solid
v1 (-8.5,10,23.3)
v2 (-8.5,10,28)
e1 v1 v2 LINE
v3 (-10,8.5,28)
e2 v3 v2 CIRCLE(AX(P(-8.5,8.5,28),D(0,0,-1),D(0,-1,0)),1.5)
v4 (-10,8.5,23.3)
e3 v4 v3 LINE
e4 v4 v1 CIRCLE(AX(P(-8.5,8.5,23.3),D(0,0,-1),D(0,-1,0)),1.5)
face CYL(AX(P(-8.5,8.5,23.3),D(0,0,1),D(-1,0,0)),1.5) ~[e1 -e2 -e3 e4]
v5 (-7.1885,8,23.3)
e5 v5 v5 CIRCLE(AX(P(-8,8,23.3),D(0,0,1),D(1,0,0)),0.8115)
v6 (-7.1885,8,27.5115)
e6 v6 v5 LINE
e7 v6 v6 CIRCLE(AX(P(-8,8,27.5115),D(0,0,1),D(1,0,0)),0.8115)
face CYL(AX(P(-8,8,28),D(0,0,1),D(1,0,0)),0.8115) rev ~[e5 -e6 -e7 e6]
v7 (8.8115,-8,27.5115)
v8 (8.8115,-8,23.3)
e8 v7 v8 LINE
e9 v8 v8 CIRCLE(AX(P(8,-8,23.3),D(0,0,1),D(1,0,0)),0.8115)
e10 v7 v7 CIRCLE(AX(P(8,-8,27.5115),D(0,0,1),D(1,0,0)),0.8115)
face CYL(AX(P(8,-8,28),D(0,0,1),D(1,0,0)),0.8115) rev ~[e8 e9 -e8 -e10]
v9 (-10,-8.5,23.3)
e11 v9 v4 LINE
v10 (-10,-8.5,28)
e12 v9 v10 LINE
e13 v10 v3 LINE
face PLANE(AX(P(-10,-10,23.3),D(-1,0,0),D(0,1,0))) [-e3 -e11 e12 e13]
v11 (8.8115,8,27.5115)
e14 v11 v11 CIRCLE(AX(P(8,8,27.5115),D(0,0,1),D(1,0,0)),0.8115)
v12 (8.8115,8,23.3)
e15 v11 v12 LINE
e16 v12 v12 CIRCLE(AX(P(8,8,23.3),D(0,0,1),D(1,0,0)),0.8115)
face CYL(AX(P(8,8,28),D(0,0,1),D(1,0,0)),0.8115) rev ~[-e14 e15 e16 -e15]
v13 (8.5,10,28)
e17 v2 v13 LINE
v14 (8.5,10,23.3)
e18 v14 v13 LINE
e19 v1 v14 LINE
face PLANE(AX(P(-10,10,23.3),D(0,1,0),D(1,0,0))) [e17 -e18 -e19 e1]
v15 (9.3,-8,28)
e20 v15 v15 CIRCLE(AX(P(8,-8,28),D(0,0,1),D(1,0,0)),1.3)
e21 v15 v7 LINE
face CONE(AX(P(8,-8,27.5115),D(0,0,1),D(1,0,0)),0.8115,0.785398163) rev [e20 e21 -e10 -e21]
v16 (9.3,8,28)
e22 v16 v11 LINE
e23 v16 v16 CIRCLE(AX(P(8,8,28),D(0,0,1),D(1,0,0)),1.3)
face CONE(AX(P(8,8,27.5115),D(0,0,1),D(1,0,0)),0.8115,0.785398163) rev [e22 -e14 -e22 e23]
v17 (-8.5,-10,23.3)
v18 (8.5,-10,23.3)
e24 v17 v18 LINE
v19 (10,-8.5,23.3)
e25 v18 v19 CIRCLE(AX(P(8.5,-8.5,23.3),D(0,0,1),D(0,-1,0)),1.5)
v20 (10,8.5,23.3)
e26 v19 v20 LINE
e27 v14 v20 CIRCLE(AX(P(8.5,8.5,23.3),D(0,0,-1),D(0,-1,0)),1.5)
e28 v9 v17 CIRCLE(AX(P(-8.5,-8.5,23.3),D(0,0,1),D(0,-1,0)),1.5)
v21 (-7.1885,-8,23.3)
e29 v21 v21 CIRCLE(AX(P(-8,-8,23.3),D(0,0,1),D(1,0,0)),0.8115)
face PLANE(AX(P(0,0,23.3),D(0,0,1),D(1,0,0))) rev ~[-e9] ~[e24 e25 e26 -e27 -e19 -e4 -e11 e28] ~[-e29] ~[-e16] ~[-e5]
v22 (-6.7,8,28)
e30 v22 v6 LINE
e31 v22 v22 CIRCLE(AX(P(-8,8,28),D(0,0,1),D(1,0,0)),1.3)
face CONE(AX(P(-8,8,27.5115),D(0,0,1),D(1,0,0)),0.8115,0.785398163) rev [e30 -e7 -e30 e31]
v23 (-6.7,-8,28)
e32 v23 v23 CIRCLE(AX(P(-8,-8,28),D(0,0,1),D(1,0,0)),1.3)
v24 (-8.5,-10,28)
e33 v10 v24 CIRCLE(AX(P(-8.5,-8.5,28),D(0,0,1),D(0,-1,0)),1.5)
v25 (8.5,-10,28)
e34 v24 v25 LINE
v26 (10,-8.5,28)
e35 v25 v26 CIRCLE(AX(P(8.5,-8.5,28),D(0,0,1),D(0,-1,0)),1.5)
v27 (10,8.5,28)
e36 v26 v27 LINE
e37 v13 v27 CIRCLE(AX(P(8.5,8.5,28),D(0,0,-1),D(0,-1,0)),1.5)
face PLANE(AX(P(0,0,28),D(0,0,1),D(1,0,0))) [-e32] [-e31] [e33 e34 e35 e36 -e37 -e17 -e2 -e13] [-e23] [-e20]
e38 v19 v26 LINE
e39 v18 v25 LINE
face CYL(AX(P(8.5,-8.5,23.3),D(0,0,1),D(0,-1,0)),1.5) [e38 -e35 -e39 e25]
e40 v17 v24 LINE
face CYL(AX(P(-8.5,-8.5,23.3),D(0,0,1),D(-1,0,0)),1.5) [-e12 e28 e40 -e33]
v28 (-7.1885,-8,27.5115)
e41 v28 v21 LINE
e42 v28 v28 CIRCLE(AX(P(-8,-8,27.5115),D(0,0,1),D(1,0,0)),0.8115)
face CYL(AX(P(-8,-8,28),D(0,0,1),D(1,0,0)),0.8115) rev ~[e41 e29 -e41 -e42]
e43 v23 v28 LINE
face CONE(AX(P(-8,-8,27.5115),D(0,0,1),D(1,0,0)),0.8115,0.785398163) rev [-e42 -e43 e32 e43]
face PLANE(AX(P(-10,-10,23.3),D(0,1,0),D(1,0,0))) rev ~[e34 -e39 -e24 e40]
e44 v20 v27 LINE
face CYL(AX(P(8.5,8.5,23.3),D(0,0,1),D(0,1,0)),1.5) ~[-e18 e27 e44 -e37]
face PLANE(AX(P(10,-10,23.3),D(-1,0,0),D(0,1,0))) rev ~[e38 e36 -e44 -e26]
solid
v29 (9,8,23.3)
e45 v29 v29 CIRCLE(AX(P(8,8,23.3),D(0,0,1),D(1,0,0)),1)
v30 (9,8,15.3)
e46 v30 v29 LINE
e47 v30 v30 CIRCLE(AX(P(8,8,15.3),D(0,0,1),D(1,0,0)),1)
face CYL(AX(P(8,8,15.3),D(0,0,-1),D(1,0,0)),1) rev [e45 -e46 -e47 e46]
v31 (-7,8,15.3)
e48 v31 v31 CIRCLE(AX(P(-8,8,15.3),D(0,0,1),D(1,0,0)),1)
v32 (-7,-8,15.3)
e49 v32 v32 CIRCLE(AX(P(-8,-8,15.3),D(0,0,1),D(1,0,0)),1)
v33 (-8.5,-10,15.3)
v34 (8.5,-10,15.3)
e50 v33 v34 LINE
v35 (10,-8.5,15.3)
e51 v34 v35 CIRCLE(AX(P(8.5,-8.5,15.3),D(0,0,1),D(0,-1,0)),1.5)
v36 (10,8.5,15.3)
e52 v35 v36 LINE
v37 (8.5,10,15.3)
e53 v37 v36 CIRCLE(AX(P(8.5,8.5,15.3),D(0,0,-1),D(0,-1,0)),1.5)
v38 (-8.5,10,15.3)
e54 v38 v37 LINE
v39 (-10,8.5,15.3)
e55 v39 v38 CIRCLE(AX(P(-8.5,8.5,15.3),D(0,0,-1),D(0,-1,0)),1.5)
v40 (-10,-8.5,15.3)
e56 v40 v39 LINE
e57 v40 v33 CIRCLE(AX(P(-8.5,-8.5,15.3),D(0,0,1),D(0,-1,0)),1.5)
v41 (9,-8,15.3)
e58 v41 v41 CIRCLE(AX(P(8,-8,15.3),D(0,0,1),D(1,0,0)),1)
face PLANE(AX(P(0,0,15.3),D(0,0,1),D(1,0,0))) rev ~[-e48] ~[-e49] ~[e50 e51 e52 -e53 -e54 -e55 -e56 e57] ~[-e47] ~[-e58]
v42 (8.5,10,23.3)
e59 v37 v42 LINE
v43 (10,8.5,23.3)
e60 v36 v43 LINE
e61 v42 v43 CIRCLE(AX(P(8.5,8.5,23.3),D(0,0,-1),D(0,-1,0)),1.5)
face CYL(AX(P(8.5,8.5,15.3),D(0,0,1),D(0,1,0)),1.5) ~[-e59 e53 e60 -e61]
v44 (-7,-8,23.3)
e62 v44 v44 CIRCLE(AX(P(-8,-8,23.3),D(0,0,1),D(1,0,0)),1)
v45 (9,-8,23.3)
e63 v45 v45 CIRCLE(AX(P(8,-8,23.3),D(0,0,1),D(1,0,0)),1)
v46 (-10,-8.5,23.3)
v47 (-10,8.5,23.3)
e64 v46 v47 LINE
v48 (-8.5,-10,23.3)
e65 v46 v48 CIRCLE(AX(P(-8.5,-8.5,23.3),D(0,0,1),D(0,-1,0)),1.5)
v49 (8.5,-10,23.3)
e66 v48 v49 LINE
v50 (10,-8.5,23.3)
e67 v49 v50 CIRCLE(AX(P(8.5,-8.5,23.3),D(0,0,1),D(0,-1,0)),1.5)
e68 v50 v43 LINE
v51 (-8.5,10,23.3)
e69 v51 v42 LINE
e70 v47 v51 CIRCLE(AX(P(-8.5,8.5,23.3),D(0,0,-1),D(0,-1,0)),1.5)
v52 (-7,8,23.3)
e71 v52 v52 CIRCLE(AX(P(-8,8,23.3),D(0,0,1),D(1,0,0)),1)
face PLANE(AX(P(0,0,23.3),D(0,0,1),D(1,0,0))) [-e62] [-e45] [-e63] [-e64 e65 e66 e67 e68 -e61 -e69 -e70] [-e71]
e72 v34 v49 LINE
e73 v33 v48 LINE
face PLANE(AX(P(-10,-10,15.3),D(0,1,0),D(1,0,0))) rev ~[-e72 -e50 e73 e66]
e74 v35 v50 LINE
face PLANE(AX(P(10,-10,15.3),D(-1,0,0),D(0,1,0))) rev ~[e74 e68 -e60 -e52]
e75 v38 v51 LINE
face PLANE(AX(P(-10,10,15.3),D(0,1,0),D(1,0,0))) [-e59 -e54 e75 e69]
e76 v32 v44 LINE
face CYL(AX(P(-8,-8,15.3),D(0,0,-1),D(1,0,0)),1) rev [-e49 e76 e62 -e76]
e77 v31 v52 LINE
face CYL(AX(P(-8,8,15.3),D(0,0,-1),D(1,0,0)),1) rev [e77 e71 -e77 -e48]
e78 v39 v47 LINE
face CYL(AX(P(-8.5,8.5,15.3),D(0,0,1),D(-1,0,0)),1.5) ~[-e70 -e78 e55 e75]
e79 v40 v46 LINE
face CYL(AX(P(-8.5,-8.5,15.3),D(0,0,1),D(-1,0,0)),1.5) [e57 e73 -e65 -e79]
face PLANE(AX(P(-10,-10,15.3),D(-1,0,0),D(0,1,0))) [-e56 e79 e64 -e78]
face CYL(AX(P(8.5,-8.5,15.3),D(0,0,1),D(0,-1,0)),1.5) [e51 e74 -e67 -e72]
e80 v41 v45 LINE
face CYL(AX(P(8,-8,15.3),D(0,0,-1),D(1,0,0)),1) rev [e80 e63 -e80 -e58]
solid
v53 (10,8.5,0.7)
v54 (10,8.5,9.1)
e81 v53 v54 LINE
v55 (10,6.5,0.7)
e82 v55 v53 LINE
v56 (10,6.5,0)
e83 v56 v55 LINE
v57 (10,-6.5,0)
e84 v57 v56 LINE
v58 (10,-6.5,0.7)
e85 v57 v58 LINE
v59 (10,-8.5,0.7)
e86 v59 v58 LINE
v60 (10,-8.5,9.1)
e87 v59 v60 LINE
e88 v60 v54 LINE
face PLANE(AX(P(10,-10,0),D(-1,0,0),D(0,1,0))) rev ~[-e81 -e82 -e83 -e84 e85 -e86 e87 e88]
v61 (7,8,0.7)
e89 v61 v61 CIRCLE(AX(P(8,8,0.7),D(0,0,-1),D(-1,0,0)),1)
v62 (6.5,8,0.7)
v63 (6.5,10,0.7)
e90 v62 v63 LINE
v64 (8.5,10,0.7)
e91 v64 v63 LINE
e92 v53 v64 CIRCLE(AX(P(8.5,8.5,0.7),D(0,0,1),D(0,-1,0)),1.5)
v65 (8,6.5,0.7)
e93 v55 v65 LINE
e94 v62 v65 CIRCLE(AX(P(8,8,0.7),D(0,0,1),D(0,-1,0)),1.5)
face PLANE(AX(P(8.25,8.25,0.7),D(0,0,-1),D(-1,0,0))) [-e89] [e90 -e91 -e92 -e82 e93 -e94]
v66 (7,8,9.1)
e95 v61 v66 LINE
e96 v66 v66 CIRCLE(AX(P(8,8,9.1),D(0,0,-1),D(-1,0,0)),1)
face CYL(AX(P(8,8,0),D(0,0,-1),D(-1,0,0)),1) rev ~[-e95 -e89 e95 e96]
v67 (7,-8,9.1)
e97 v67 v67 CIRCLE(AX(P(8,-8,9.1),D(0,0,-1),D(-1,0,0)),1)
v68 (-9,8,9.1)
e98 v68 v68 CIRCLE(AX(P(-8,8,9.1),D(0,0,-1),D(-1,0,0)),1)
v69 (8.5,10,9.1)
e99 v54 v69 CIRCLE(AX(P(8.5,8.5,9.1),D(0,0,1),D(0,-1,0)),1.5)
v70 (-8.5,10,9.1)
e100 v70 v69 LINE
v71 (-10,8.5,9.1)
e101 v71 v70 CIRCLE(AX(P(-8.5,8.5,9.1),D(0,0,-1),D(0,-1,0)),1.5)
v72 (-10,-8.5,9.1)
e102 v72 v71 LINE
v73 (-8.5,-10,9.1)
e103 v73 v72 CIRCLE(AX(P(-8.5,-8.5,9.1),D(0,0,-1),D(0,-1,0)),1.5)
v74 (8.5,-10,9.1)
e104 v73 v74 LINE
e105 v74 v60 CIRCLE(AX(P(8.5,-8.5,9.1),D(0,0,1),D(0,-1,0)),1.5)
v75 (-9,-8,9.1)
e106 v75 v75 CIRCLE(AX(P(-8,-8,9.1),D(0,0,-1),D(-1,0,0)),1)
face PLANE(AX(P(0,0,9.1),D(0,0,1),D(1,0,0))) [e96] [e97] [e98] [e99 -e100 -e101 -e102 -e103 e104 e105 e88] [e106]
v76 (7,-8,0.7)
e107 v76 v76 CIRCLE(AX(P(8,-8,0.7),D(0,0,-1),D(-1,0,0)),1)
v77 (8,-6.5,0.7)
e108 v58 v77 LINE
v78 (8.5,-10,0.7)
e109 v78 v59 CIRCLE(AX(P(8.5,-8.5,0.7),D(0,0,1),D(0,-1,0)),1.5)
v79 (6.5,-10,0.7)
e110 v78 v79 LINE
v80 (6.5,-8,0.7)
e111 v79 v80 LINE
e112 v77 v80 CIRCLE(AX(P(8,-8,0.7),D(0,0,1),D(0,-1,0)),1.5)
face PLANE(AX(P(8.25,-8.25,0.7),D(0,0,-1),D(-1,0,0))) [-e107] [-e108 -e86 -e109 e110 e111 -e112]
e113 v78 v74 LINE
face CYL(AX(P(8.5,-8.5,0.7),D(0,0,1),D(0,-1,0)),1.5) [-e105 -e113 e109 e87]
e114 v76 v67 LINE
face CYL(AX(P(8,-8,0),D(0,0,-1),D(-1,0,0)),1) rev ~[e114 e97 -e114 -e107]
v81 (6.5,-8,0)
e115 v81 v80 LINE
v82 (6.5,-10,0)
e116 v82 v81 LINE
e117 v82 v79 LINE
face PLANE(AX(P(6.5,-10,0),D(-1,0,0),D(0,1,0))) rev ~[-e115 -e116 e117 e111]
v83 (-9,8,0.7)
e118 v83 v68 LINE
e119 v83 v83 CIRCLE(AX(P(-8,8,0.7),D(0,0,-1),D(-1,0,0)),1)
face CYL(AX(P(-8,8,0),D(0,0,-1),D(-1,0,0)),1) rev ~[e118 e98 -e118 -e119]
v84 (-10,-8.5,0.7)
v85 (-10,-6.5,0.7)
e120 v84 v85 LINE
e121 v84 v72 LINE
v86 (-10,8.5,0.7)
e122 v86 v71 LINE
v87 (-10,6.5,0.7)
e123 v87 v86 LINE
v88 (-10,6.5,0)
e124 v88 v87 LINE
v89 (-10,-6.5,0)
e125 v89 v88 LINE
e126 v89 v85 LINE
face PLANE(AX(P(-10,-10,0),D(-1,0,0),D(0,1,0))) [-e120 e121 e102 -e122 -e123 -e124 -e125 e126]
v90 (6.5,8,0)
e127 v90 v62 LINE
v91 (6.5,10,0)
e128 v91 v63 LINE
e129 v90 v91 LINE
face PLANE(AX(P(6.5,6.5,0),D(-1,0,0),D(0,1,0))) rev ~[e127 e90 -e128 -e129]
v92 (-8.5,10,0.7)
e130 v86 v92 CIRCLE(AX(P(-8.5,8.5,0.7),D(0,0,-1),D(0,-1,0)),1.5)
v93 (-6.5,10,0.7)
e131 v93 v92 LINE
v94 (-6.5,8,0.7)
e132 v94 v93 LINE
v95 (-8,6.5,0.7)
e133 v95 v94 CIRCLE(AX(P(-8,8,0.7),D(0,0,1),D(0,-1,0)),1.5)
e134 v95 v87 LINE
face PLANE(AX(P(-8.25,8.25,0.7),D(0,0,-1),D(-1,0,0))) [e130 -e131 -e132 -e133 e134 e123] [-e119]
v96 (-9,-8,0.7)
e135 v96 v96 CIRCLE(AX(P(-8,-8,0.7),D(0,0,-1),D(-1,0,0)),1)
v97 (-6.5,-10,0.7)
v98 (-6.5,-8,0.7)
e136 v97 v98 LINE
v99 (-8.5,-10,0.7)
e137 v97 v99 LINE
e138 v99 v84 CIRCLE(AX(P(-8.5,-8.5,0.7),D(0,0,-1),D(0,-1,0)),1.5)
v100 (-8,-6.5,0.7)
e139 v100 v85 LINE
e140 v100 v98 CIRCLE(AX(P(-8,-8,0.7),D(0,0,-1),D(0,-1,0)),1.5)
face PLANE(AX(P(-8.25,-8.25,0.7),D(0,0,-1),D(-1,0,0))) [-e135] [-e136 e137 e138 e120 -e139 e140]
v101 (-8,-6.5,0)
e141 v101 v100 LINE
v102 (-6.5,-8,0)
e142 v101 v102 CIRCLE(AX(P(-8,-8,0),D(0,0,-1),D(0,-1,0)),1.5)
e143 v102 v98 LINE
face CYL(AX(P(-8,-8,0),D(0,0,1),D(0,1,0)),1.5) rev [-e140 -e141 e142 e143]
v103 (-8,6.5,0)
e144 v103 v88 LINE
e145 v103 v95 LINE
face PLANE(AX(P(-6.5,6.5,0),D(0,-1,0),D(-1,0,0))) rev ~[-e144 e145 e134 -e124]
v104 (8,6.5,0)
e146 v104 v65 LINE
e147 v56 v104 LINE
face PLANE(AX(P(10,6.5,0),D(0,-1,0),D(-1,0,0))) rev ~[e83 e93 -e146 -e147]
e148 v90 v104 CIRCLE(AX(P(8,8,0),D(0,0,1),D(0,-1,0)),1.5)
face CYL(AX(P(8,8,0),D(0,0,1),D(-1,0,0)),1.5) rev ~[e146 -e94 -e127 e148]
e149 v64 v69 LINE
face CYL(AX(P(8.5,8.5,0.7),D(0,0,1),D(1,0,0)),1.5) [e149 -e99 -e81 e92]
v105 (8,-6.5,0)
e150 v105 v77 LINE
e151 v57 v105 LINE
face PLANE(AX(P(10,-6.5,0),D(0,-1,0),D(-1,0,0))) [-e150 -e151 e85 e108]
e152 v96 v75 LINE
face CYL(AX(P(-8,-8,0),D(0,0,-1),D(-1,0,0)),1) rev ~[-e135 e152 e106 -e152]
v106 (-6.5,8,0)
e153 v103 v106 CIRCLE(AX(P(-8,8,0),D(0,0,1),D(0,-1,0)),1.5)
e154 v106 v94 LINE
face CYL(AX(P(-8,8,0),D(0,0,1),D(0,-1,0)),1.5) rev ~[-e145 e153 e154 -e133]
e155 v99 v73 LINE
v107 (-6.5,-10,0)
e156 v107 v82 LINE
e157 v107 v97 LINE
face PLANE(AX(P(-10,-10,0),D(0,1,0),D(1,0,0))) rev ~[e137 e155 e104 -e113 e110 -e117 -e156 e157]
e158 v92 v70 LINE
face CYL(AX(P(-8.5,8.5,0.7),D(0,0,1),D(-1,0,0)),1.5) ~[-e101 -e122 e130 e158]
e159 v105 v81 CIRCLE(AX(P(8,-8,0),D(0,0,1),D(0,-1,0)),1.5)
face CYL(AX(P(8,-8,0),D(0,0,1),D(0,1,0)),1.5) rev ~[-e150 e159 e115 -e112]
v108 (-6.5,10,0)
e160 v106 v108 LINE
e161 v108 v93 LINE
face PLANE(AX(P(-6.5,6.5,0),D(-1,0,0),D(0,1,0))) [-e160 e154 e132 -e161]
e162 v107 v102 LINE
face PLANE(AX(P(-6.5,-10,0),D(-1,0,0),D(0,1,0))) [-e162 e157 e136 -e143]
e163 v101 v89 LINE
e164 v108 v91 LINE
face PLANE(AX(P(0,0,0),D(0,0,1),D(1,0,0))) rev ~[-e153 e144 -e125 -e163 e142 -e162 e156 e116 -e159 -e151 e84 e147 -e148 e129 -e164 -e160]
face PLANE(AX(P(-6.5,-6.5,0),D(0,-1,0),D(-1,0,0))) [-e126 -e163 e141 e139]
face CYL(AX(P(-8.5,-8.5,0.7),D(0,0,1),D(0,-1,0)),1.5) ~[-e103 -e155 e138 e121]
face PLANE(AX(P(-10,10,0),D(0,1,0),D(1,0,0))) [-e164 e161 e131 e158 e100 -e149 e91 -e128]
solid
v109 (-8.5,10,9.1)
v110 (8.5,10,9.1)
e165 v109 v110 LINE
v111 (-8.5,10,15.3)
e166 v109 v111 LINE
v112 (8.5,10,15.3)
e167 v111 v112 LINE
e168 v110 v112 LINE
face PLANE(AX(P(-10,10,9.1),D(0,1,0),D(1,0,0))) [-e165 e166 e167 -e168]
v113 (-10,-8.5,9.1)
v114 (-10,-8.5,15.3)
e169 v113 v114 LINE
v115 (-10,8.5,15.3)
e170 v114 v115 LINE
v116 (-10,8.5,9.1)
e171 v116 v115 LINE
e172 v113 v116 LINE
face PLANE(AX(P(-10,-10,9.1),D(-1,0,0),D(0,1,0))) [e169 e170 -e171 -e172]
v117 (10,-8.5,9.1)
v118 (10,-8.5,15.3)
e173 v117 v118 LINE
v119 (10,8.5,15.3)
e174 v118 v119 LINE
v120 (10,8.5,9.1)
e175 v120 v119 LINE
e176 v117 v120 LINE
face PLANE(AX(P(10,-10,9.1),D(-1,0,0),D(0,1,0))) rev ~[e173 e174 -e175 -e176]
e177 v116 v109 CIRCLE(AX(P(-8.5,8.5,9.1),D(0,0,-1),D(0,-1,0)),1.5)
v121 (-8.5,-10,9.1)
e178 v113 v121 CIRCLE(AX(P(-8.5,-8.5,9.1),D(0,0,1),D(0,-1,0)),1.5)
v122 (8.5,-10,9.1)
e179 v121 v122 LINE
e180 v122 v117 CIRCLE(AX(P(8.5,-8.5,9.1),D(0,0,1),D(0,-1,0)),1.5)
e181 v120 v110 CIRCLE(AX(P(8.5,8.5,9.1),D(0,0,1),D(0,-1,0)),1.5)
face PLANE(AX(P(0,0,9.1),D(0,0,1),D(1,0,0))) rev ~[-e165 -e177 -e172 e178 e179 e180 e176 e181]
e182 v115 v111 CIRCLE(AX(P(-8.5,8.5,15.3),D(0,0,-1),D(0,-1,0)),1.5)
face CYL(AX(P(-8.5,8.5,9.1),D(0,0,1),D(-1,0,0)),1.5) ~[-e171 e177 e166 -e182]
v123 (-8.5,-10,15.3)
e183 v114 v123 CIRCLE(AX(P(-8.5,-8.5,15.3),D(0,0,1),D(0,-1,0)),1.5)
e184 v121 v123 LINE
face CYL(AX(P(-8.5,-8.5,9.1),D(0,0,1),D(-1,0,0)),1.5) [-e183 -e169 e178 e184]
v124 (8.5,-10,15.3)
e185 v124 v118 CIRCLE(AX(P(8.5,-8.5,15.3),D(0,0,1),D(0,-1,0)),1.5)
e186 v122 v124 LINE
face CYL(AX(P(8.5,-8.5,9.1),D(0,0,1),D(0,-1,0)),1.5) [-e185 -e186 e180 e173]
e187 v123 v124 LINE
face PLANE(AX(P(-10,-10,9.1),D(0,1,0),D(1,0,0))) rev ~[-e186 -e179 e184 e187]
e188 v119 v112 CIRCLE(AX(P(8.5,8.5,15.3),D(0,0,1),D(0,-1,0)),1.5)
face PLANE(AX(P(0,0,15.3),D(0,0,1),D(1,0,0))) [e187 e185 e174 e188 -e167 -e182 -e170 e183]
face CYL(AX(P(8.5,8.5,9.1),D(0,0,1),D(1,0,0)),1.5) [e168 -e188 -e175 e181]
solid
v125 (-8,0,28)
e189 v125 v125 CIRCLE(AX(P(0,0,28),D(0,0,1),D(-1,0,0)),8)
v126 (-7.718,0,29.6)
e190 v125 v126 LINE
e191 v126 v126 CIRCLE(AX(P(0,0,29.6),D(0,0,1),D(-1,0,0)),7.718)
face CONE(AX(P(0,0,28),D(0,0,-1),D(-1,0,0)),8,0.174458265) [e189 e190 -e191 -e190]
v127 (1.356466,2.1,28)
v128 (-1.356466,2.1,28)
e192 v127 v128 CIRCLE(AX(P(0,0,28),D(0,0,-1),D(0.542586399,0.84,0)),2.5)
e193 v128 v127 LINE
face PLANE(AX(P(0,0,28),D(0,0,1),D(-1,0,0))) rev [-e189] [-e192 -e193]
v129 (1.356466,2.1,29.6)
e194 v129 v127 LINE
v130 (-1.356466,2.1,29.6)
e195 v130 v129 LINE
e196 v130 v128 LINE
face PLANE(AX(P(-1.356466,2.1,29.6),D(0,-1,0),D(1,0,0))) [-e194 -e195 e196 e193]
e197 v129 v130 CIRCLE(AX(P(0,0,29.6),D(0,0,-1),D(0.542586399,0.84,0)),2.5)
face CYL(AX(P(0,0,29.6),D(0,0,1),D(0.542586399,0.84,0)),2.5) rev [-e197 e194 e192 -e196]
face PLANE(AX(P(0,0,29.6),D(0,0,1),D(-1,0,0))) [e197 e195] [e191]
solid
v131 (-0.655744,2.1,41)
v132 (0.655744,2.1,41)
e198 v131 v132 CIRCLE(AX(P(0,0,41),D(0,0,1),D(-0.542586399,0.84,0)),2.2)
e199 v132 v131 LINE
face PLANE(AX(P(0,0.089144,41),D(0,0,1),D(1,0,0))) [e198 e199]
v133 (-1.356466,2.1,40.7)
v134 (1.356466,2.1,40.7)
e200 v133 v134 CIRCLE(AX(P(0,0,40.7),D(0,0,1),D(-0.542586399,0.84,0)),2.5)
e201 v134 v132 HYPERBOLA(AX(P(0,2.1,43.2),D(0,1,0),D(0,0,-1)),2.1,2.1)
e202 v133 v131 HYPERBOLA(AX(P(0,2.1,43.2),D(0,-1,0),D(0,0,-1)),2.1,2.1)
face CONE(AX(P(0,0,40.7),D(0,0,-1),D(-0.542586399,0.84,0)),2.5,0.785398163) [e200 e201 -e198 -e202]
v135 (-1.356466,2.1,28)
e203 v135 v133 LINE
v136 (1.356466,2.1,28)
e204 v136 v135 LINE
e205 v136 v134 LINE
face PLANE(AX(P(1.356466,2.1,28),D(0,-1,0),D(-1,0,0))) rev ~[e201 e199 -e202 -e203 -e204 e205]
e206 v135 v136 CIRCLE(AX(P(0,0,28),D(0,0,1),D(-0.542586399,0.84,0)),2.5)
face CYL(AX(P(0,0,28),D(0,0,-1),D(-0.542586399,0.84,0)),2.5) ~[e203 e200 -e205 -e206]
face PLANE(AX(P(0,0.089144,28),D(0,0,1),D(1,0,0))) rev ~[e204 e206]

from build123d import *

# Parameters (mm, degrees)
SKETCH_1_W          = 20
SKETCH_1_H          = 20
EXTRUDE_1_DEPTH     = 9.1
CUT_EXTRUDE_1_REACH = 18.817
SKETCH_2_R          = 1
SKETCH_3_W          = 3.5
SKETCH_3_H          = 3.5
CUT_EXTRUDE_2_DEPTH = 0.7
FILLET_1_R          = 1.5
SKETCH_4_W          = 20
SKETCH_4_H          = 20
EXTRUDE_2_DEPTH     = 6.2
SKETCH_5_W          = 20
SKETCH_5_H          = 20
EXTRUDE_3_DEPTH     = 8
CUT_EXTRUDE_START   = -8
SKETCH_6_R          = 1
CUT_EXTRUDE_3_DEPTH = 8
SKETCH_7_W          = 20
SKETCH_7_H          = 20
EXTRUDE_4_DEPTH     = 4.7
SKETCH_8_R          = 0.8115
CUT_EXTRUDE_4_DEPTH = 4.7
FILLET_2_R          = 1.5
FILLET_3_R          = 1.5
FILLET_4_R          = 1.5
FILLET_5_R          = 1.5
CUT_EXTRUDE_5_DEPTH = 1.6
EXTRUDE_5_DEPTH     = 13
CHAMFER_1_SIZE      = 0.3
CHAMFER_2_SIZE      = 0.4885


with BuildPart() as part:
    # 草图1 → 凸台-拉伸1 (new body)
    with BuildSketch(Plane.XY):
        Rectangle(SKETCH_1_W, SKETCH_1_H)
    extrude(amount=EXTRUDE_1_DEPTH)

    # 草图2 → 切除-拉伸1 (cut, up to next)
    with BuildSketch(Plane(origin=(0, 0, 0), x_dir=(-1, 0, 0), z_dir=(0, 0, -1)), mode=Mode.PRIVATE) as cut_extrude_1_sk1:
        with Locations((-8, 8)):
            Circle(SKETCH_2_R)
    cut_extrude_1_tool1 = extrude(cut_extrude_1_sk1.sketch, amount=-CUT_EXTRUDE_1_REACH, mode=Mode.PRIVATE) & part.part
    # 草图2 → 切除-拉伸1 (cut, up to next)
    with BuildSketch(Plane(origin=(0, 0, 0), x_dir=(-1, 0, 0), z_dir=(0, 0, -1)), mode=Mode.PRIVATE) as cut_extrude_1_sk2:
        with Locations((8, 8)):
            Circle(SKETCH_2_R)
    cut_extrude_1_tool2 = extrude(cut_extrude_1_sk2.sketch, amount=-CUT_EXTRUDE_1_REACH, mode=Mode.PRIVATE) & part.part
    # 草图2 → 切除-拉伸1 (cut, up to next)
    with BuildSketch(Plane(origin=(0, 0, 0), x_dir=(-1, 0, 0), z_dir=(0, 0, -1)), mode=Mode.PRIVATE) as cut_extrude_1_sk3:
        with Locations((8, -8)):
            Circle(SKETCH_2_R)
    cut_extrude_1_tool3 = extrude(cut_extrude_1_sk3.sketch, amount=-CUT_EXTRUDE_1_REACH, mode=Mode.PRIVATE) & part.part
    # 草图2 → 切除-拉伸1 (cut, up to next)
    with BuildSketch(Plane(origin=(0, 0, 0), x_dir=(-1, 0, 0), z_dir=(0, 0, -1)), mode=Mode.PRIVATE) as cut_extrude_1_sk4:
        with Locations((-8, -8)):
            Circle(SKETCH_2_R)
    cut_extrude_1_tool4 = extrude(cut_extrude_1_sk4.sketch, amount=-CUT_EXTRUDE_1_REACH, mode=Mode.PRIVATE) & part.part
    add(cut_extrude_1_tool1.solids().sort_by_distance((8, 8, 0))[0], mode=Mode.SUBTRACT)
    add(cut_extrude_1_tool2.solids().sort_by_distance((-8, 8, 0))[0], mode=Mode.SUBTRACT)
    add(cut_extrude_1_tool3.solids().sort_by_distance((-8, -8, 0))[0], mode=Mode.SUBTRACT)
    add(cut_extrude_1_tool4.solids().sort_by_distance((8, -8, 0))[0], mode=Mode.SUBTRACT)

    # 草图3 → 切除-拉伸2 (cut)
    with BuildSketch(Plane(origin=(0, 0, 0), x_dir=(-1, 0, 0), z_dir=(0, 0, -1))):
        with Locations((-8.25, 8.25)):
            Rectangle(SKETCH_3_W, SKETCH_3_H)
        with Locations((8.25, 8.25)):
            Rectangle(SKETCH_3_W, SKETCH_3_H)
        with Locations((8.25, -8.25)):
            Rectangle(SKETCH_3_W, SKETCH_3_H)
        with Locations((-8.25, -8.25)):
            Rectangle(SKETCH_3_W, SKETCH_3_H)
    extrude(amount=-CUT_EXTRUDE_2_DEPTH, mode=Mode.SUBTRACT)

    # 圆角1
    fillet_1_edges = [part.edges().sort_by_distance(p)[0] for p in [
        (6.5, -6.5, 0.35),
        (-6.5, -6.5, 0.35),
        (-6.5, 6.5, 0.35),
        (6.5, 6.5, 0.35),
    ]]
    fillet(fillet_1_edges, radius=FILLET_1_R)

    # 圆角5
    fillet_5_edges = [part.edges().sort_by_distance(p)[0] for p in [
        (10, -10, 4.9),
        (-10, -10, 4.9),
        (-10, 10, 4.9),
        (10, 10, 4.9),
    ]]
    fillet(fillet_5_edges, radius=FILLET_5_R)


with BuildPart() as body_2:
    # 草图4 → 凸台-拉伸2 (new body)
    with BuildSketch(Plane.XY.offset(9.1)):
        Rectangle(SKETCH_4_W, SKETCH_4_H)
    extrude(amount=EXTRUDE_2_DEPTH)

    # 圆角4
    fillet_4_edges = [body_2.edges().sort_by_distance(p)[0] for p in [
        (-10, -10, 12.2),
        (-10, 10, 12.2),
        (10, 10, 12.2),
        (10, -10, 12.2),
    ]]
    fillet(fillet_4_edges, radius=FILLET_4_R)


with BuildPart() as body_3:
    # 草图5 → 凸台-拉伸3 (new body)
    with BuildSketch(Plane.XY.offset(15.3)):
        Rectangle(SKETCH_5_W, SKETCH_5_H)
    extrude(amount=EXTRUDE_3_DEPTH)

    # 草图6 → 切除-拉伸3 (cut)
    with BuildSketch(Plane.XY.offset(23.3).offset(CUT_EXTRUDE_START)):
        with Locations((-8, 8)):
            Circle(SKETCH_6_R)
        with Locations((8, 8)):
            Circle(SKETCH_6_R)
        with Locations((-8, -8)):
            Circle(SKETCH_6_R)
        with Locations((8, -8)):
            Circle(SKETCH_6_R)
    extrude(amount=CUT_EXTRUDE_3_DEPTH, mode=Mode.SUBTRACT)

    # 圆角3
    fillet_3_edges = [body_3.edges().sort_by_distance(p)[0] for p in [
        (-10, 10, 19.3),
        (10, 10, 19.3),
        (10, -10, 19.3),
        (-10, -10, 19.3),
    ]]
    fillet(fillet_3_edges, radius=FILLET_3_R)


with BuildPart() as body_4:
    # 草图7 → 凸台-拉伸4 (new body)
    with BuildSketch(Plane.XY.offset(23.3)):
        Rectangle(SKETCH_7_W, SKETCH_7_H)
    extrude(amount=EXTRUDE_4_DEPTH)

    # 草图8 → 切除-拉伸4 (cut)
    with BuildSketch(Plane.XY.offset(28)):
        with Locations((-8, 8)):
            Circle(SKETCH_8_R)
        with Locations((8, 8)):
            Circle(SKETCH_8_R)
        with Locations((8, -8)):
            Circle(SKETCH_8_R)
        with Locations((-8, -8)):
            Circle(SKETCH_8_R)
    extrude(amount=-CUT_EXTRUDE_4_DEPTH, mode=Mode.SUBTRACT)

    # 圆角2
    fillet_2_edges = [body_4.edges().sort_by_distance(p)[0] for p in [
        (10, 10, 25.65),
        (10, -10, 25.65),
        (-10, -10, 25.65),
        (-10, 10, 25.65),
    ]]
    fillet(fillet_2_edges, radius=FILLET_2_R)

    # 倒角2
    chamfer_2_edges = [body_4.edges().sort_by_distance(p)[0] for p in [
        (-8.8115, -8, 28),
        (7.1885, -8, 28),
        (7.1885, 8, 28),
        (-8.8115, 8, 28),
    ]]
    chamfer(chamfer_2_edges, length=CHAMFER_2_SIZE)


with BuildPart() as body_5:
    # 草图9 → 旋转1 (revolve)
    with BuildSketch(Plane(origin=(0, 0, 0), x_dir=(0, 0, -1), z_dir=(1, 0, 0)), mode=Mode.PRIVATE) as revolve_1_sk:
        Polygon((-28, 0), (-28, 8), (-29.6, 7.718), (-29.6, 0), align=None)
    revolve(revolve_1_sk.sketch.rotate(Axis((0, 0, 0), (0, 0, 1)), 90), axis=Axis((0, 0, 0), (0, 0, 1)))

    # 草图10 → 切除-拉伸5 (cut)
    with BuildSketch(Plane.XY.offset(29.6)):
        with BuildLine():
            Line((-1.356465997, 2.1), (1.356465997, 2.1))
            ThreePointArc((1.356465997, 2.1), (0, -2.5), (-1.356465997, 2.1))
        make_face()
    extrude(amount=-CUT_EXTRUDE_5_DEPTH, mode=Mode.SUBTRACT)


with BuildPart() as body_6:
    # 草图11 → 凸台-拉伸5 (new body)
    with BuildSketch(Plane.XY.offset(28)):
        with BuildLine():
            Line((1.356465997, 2.1), (-1.356465997, 2.1))
            ThreePointArc((-1.356465997, 2.1), (0, -2.5), (1.356465997, 2.1))
        make_face()
    extrude(amount=EXTRUDE_5_DEPTH)

    # 倒角1
    chamfer_1_edges = [body_6.edges().sort_by_distance(p)[0] for p in [
        (0, -2.5, 41),
    ]]
    chamfer(chamfer_1_edges, length=CHAMFER_1_SIZE)


solid = Compound([part.part, body_2.part, body_3.part, body_4.part, body_5.part, body_6.part])
